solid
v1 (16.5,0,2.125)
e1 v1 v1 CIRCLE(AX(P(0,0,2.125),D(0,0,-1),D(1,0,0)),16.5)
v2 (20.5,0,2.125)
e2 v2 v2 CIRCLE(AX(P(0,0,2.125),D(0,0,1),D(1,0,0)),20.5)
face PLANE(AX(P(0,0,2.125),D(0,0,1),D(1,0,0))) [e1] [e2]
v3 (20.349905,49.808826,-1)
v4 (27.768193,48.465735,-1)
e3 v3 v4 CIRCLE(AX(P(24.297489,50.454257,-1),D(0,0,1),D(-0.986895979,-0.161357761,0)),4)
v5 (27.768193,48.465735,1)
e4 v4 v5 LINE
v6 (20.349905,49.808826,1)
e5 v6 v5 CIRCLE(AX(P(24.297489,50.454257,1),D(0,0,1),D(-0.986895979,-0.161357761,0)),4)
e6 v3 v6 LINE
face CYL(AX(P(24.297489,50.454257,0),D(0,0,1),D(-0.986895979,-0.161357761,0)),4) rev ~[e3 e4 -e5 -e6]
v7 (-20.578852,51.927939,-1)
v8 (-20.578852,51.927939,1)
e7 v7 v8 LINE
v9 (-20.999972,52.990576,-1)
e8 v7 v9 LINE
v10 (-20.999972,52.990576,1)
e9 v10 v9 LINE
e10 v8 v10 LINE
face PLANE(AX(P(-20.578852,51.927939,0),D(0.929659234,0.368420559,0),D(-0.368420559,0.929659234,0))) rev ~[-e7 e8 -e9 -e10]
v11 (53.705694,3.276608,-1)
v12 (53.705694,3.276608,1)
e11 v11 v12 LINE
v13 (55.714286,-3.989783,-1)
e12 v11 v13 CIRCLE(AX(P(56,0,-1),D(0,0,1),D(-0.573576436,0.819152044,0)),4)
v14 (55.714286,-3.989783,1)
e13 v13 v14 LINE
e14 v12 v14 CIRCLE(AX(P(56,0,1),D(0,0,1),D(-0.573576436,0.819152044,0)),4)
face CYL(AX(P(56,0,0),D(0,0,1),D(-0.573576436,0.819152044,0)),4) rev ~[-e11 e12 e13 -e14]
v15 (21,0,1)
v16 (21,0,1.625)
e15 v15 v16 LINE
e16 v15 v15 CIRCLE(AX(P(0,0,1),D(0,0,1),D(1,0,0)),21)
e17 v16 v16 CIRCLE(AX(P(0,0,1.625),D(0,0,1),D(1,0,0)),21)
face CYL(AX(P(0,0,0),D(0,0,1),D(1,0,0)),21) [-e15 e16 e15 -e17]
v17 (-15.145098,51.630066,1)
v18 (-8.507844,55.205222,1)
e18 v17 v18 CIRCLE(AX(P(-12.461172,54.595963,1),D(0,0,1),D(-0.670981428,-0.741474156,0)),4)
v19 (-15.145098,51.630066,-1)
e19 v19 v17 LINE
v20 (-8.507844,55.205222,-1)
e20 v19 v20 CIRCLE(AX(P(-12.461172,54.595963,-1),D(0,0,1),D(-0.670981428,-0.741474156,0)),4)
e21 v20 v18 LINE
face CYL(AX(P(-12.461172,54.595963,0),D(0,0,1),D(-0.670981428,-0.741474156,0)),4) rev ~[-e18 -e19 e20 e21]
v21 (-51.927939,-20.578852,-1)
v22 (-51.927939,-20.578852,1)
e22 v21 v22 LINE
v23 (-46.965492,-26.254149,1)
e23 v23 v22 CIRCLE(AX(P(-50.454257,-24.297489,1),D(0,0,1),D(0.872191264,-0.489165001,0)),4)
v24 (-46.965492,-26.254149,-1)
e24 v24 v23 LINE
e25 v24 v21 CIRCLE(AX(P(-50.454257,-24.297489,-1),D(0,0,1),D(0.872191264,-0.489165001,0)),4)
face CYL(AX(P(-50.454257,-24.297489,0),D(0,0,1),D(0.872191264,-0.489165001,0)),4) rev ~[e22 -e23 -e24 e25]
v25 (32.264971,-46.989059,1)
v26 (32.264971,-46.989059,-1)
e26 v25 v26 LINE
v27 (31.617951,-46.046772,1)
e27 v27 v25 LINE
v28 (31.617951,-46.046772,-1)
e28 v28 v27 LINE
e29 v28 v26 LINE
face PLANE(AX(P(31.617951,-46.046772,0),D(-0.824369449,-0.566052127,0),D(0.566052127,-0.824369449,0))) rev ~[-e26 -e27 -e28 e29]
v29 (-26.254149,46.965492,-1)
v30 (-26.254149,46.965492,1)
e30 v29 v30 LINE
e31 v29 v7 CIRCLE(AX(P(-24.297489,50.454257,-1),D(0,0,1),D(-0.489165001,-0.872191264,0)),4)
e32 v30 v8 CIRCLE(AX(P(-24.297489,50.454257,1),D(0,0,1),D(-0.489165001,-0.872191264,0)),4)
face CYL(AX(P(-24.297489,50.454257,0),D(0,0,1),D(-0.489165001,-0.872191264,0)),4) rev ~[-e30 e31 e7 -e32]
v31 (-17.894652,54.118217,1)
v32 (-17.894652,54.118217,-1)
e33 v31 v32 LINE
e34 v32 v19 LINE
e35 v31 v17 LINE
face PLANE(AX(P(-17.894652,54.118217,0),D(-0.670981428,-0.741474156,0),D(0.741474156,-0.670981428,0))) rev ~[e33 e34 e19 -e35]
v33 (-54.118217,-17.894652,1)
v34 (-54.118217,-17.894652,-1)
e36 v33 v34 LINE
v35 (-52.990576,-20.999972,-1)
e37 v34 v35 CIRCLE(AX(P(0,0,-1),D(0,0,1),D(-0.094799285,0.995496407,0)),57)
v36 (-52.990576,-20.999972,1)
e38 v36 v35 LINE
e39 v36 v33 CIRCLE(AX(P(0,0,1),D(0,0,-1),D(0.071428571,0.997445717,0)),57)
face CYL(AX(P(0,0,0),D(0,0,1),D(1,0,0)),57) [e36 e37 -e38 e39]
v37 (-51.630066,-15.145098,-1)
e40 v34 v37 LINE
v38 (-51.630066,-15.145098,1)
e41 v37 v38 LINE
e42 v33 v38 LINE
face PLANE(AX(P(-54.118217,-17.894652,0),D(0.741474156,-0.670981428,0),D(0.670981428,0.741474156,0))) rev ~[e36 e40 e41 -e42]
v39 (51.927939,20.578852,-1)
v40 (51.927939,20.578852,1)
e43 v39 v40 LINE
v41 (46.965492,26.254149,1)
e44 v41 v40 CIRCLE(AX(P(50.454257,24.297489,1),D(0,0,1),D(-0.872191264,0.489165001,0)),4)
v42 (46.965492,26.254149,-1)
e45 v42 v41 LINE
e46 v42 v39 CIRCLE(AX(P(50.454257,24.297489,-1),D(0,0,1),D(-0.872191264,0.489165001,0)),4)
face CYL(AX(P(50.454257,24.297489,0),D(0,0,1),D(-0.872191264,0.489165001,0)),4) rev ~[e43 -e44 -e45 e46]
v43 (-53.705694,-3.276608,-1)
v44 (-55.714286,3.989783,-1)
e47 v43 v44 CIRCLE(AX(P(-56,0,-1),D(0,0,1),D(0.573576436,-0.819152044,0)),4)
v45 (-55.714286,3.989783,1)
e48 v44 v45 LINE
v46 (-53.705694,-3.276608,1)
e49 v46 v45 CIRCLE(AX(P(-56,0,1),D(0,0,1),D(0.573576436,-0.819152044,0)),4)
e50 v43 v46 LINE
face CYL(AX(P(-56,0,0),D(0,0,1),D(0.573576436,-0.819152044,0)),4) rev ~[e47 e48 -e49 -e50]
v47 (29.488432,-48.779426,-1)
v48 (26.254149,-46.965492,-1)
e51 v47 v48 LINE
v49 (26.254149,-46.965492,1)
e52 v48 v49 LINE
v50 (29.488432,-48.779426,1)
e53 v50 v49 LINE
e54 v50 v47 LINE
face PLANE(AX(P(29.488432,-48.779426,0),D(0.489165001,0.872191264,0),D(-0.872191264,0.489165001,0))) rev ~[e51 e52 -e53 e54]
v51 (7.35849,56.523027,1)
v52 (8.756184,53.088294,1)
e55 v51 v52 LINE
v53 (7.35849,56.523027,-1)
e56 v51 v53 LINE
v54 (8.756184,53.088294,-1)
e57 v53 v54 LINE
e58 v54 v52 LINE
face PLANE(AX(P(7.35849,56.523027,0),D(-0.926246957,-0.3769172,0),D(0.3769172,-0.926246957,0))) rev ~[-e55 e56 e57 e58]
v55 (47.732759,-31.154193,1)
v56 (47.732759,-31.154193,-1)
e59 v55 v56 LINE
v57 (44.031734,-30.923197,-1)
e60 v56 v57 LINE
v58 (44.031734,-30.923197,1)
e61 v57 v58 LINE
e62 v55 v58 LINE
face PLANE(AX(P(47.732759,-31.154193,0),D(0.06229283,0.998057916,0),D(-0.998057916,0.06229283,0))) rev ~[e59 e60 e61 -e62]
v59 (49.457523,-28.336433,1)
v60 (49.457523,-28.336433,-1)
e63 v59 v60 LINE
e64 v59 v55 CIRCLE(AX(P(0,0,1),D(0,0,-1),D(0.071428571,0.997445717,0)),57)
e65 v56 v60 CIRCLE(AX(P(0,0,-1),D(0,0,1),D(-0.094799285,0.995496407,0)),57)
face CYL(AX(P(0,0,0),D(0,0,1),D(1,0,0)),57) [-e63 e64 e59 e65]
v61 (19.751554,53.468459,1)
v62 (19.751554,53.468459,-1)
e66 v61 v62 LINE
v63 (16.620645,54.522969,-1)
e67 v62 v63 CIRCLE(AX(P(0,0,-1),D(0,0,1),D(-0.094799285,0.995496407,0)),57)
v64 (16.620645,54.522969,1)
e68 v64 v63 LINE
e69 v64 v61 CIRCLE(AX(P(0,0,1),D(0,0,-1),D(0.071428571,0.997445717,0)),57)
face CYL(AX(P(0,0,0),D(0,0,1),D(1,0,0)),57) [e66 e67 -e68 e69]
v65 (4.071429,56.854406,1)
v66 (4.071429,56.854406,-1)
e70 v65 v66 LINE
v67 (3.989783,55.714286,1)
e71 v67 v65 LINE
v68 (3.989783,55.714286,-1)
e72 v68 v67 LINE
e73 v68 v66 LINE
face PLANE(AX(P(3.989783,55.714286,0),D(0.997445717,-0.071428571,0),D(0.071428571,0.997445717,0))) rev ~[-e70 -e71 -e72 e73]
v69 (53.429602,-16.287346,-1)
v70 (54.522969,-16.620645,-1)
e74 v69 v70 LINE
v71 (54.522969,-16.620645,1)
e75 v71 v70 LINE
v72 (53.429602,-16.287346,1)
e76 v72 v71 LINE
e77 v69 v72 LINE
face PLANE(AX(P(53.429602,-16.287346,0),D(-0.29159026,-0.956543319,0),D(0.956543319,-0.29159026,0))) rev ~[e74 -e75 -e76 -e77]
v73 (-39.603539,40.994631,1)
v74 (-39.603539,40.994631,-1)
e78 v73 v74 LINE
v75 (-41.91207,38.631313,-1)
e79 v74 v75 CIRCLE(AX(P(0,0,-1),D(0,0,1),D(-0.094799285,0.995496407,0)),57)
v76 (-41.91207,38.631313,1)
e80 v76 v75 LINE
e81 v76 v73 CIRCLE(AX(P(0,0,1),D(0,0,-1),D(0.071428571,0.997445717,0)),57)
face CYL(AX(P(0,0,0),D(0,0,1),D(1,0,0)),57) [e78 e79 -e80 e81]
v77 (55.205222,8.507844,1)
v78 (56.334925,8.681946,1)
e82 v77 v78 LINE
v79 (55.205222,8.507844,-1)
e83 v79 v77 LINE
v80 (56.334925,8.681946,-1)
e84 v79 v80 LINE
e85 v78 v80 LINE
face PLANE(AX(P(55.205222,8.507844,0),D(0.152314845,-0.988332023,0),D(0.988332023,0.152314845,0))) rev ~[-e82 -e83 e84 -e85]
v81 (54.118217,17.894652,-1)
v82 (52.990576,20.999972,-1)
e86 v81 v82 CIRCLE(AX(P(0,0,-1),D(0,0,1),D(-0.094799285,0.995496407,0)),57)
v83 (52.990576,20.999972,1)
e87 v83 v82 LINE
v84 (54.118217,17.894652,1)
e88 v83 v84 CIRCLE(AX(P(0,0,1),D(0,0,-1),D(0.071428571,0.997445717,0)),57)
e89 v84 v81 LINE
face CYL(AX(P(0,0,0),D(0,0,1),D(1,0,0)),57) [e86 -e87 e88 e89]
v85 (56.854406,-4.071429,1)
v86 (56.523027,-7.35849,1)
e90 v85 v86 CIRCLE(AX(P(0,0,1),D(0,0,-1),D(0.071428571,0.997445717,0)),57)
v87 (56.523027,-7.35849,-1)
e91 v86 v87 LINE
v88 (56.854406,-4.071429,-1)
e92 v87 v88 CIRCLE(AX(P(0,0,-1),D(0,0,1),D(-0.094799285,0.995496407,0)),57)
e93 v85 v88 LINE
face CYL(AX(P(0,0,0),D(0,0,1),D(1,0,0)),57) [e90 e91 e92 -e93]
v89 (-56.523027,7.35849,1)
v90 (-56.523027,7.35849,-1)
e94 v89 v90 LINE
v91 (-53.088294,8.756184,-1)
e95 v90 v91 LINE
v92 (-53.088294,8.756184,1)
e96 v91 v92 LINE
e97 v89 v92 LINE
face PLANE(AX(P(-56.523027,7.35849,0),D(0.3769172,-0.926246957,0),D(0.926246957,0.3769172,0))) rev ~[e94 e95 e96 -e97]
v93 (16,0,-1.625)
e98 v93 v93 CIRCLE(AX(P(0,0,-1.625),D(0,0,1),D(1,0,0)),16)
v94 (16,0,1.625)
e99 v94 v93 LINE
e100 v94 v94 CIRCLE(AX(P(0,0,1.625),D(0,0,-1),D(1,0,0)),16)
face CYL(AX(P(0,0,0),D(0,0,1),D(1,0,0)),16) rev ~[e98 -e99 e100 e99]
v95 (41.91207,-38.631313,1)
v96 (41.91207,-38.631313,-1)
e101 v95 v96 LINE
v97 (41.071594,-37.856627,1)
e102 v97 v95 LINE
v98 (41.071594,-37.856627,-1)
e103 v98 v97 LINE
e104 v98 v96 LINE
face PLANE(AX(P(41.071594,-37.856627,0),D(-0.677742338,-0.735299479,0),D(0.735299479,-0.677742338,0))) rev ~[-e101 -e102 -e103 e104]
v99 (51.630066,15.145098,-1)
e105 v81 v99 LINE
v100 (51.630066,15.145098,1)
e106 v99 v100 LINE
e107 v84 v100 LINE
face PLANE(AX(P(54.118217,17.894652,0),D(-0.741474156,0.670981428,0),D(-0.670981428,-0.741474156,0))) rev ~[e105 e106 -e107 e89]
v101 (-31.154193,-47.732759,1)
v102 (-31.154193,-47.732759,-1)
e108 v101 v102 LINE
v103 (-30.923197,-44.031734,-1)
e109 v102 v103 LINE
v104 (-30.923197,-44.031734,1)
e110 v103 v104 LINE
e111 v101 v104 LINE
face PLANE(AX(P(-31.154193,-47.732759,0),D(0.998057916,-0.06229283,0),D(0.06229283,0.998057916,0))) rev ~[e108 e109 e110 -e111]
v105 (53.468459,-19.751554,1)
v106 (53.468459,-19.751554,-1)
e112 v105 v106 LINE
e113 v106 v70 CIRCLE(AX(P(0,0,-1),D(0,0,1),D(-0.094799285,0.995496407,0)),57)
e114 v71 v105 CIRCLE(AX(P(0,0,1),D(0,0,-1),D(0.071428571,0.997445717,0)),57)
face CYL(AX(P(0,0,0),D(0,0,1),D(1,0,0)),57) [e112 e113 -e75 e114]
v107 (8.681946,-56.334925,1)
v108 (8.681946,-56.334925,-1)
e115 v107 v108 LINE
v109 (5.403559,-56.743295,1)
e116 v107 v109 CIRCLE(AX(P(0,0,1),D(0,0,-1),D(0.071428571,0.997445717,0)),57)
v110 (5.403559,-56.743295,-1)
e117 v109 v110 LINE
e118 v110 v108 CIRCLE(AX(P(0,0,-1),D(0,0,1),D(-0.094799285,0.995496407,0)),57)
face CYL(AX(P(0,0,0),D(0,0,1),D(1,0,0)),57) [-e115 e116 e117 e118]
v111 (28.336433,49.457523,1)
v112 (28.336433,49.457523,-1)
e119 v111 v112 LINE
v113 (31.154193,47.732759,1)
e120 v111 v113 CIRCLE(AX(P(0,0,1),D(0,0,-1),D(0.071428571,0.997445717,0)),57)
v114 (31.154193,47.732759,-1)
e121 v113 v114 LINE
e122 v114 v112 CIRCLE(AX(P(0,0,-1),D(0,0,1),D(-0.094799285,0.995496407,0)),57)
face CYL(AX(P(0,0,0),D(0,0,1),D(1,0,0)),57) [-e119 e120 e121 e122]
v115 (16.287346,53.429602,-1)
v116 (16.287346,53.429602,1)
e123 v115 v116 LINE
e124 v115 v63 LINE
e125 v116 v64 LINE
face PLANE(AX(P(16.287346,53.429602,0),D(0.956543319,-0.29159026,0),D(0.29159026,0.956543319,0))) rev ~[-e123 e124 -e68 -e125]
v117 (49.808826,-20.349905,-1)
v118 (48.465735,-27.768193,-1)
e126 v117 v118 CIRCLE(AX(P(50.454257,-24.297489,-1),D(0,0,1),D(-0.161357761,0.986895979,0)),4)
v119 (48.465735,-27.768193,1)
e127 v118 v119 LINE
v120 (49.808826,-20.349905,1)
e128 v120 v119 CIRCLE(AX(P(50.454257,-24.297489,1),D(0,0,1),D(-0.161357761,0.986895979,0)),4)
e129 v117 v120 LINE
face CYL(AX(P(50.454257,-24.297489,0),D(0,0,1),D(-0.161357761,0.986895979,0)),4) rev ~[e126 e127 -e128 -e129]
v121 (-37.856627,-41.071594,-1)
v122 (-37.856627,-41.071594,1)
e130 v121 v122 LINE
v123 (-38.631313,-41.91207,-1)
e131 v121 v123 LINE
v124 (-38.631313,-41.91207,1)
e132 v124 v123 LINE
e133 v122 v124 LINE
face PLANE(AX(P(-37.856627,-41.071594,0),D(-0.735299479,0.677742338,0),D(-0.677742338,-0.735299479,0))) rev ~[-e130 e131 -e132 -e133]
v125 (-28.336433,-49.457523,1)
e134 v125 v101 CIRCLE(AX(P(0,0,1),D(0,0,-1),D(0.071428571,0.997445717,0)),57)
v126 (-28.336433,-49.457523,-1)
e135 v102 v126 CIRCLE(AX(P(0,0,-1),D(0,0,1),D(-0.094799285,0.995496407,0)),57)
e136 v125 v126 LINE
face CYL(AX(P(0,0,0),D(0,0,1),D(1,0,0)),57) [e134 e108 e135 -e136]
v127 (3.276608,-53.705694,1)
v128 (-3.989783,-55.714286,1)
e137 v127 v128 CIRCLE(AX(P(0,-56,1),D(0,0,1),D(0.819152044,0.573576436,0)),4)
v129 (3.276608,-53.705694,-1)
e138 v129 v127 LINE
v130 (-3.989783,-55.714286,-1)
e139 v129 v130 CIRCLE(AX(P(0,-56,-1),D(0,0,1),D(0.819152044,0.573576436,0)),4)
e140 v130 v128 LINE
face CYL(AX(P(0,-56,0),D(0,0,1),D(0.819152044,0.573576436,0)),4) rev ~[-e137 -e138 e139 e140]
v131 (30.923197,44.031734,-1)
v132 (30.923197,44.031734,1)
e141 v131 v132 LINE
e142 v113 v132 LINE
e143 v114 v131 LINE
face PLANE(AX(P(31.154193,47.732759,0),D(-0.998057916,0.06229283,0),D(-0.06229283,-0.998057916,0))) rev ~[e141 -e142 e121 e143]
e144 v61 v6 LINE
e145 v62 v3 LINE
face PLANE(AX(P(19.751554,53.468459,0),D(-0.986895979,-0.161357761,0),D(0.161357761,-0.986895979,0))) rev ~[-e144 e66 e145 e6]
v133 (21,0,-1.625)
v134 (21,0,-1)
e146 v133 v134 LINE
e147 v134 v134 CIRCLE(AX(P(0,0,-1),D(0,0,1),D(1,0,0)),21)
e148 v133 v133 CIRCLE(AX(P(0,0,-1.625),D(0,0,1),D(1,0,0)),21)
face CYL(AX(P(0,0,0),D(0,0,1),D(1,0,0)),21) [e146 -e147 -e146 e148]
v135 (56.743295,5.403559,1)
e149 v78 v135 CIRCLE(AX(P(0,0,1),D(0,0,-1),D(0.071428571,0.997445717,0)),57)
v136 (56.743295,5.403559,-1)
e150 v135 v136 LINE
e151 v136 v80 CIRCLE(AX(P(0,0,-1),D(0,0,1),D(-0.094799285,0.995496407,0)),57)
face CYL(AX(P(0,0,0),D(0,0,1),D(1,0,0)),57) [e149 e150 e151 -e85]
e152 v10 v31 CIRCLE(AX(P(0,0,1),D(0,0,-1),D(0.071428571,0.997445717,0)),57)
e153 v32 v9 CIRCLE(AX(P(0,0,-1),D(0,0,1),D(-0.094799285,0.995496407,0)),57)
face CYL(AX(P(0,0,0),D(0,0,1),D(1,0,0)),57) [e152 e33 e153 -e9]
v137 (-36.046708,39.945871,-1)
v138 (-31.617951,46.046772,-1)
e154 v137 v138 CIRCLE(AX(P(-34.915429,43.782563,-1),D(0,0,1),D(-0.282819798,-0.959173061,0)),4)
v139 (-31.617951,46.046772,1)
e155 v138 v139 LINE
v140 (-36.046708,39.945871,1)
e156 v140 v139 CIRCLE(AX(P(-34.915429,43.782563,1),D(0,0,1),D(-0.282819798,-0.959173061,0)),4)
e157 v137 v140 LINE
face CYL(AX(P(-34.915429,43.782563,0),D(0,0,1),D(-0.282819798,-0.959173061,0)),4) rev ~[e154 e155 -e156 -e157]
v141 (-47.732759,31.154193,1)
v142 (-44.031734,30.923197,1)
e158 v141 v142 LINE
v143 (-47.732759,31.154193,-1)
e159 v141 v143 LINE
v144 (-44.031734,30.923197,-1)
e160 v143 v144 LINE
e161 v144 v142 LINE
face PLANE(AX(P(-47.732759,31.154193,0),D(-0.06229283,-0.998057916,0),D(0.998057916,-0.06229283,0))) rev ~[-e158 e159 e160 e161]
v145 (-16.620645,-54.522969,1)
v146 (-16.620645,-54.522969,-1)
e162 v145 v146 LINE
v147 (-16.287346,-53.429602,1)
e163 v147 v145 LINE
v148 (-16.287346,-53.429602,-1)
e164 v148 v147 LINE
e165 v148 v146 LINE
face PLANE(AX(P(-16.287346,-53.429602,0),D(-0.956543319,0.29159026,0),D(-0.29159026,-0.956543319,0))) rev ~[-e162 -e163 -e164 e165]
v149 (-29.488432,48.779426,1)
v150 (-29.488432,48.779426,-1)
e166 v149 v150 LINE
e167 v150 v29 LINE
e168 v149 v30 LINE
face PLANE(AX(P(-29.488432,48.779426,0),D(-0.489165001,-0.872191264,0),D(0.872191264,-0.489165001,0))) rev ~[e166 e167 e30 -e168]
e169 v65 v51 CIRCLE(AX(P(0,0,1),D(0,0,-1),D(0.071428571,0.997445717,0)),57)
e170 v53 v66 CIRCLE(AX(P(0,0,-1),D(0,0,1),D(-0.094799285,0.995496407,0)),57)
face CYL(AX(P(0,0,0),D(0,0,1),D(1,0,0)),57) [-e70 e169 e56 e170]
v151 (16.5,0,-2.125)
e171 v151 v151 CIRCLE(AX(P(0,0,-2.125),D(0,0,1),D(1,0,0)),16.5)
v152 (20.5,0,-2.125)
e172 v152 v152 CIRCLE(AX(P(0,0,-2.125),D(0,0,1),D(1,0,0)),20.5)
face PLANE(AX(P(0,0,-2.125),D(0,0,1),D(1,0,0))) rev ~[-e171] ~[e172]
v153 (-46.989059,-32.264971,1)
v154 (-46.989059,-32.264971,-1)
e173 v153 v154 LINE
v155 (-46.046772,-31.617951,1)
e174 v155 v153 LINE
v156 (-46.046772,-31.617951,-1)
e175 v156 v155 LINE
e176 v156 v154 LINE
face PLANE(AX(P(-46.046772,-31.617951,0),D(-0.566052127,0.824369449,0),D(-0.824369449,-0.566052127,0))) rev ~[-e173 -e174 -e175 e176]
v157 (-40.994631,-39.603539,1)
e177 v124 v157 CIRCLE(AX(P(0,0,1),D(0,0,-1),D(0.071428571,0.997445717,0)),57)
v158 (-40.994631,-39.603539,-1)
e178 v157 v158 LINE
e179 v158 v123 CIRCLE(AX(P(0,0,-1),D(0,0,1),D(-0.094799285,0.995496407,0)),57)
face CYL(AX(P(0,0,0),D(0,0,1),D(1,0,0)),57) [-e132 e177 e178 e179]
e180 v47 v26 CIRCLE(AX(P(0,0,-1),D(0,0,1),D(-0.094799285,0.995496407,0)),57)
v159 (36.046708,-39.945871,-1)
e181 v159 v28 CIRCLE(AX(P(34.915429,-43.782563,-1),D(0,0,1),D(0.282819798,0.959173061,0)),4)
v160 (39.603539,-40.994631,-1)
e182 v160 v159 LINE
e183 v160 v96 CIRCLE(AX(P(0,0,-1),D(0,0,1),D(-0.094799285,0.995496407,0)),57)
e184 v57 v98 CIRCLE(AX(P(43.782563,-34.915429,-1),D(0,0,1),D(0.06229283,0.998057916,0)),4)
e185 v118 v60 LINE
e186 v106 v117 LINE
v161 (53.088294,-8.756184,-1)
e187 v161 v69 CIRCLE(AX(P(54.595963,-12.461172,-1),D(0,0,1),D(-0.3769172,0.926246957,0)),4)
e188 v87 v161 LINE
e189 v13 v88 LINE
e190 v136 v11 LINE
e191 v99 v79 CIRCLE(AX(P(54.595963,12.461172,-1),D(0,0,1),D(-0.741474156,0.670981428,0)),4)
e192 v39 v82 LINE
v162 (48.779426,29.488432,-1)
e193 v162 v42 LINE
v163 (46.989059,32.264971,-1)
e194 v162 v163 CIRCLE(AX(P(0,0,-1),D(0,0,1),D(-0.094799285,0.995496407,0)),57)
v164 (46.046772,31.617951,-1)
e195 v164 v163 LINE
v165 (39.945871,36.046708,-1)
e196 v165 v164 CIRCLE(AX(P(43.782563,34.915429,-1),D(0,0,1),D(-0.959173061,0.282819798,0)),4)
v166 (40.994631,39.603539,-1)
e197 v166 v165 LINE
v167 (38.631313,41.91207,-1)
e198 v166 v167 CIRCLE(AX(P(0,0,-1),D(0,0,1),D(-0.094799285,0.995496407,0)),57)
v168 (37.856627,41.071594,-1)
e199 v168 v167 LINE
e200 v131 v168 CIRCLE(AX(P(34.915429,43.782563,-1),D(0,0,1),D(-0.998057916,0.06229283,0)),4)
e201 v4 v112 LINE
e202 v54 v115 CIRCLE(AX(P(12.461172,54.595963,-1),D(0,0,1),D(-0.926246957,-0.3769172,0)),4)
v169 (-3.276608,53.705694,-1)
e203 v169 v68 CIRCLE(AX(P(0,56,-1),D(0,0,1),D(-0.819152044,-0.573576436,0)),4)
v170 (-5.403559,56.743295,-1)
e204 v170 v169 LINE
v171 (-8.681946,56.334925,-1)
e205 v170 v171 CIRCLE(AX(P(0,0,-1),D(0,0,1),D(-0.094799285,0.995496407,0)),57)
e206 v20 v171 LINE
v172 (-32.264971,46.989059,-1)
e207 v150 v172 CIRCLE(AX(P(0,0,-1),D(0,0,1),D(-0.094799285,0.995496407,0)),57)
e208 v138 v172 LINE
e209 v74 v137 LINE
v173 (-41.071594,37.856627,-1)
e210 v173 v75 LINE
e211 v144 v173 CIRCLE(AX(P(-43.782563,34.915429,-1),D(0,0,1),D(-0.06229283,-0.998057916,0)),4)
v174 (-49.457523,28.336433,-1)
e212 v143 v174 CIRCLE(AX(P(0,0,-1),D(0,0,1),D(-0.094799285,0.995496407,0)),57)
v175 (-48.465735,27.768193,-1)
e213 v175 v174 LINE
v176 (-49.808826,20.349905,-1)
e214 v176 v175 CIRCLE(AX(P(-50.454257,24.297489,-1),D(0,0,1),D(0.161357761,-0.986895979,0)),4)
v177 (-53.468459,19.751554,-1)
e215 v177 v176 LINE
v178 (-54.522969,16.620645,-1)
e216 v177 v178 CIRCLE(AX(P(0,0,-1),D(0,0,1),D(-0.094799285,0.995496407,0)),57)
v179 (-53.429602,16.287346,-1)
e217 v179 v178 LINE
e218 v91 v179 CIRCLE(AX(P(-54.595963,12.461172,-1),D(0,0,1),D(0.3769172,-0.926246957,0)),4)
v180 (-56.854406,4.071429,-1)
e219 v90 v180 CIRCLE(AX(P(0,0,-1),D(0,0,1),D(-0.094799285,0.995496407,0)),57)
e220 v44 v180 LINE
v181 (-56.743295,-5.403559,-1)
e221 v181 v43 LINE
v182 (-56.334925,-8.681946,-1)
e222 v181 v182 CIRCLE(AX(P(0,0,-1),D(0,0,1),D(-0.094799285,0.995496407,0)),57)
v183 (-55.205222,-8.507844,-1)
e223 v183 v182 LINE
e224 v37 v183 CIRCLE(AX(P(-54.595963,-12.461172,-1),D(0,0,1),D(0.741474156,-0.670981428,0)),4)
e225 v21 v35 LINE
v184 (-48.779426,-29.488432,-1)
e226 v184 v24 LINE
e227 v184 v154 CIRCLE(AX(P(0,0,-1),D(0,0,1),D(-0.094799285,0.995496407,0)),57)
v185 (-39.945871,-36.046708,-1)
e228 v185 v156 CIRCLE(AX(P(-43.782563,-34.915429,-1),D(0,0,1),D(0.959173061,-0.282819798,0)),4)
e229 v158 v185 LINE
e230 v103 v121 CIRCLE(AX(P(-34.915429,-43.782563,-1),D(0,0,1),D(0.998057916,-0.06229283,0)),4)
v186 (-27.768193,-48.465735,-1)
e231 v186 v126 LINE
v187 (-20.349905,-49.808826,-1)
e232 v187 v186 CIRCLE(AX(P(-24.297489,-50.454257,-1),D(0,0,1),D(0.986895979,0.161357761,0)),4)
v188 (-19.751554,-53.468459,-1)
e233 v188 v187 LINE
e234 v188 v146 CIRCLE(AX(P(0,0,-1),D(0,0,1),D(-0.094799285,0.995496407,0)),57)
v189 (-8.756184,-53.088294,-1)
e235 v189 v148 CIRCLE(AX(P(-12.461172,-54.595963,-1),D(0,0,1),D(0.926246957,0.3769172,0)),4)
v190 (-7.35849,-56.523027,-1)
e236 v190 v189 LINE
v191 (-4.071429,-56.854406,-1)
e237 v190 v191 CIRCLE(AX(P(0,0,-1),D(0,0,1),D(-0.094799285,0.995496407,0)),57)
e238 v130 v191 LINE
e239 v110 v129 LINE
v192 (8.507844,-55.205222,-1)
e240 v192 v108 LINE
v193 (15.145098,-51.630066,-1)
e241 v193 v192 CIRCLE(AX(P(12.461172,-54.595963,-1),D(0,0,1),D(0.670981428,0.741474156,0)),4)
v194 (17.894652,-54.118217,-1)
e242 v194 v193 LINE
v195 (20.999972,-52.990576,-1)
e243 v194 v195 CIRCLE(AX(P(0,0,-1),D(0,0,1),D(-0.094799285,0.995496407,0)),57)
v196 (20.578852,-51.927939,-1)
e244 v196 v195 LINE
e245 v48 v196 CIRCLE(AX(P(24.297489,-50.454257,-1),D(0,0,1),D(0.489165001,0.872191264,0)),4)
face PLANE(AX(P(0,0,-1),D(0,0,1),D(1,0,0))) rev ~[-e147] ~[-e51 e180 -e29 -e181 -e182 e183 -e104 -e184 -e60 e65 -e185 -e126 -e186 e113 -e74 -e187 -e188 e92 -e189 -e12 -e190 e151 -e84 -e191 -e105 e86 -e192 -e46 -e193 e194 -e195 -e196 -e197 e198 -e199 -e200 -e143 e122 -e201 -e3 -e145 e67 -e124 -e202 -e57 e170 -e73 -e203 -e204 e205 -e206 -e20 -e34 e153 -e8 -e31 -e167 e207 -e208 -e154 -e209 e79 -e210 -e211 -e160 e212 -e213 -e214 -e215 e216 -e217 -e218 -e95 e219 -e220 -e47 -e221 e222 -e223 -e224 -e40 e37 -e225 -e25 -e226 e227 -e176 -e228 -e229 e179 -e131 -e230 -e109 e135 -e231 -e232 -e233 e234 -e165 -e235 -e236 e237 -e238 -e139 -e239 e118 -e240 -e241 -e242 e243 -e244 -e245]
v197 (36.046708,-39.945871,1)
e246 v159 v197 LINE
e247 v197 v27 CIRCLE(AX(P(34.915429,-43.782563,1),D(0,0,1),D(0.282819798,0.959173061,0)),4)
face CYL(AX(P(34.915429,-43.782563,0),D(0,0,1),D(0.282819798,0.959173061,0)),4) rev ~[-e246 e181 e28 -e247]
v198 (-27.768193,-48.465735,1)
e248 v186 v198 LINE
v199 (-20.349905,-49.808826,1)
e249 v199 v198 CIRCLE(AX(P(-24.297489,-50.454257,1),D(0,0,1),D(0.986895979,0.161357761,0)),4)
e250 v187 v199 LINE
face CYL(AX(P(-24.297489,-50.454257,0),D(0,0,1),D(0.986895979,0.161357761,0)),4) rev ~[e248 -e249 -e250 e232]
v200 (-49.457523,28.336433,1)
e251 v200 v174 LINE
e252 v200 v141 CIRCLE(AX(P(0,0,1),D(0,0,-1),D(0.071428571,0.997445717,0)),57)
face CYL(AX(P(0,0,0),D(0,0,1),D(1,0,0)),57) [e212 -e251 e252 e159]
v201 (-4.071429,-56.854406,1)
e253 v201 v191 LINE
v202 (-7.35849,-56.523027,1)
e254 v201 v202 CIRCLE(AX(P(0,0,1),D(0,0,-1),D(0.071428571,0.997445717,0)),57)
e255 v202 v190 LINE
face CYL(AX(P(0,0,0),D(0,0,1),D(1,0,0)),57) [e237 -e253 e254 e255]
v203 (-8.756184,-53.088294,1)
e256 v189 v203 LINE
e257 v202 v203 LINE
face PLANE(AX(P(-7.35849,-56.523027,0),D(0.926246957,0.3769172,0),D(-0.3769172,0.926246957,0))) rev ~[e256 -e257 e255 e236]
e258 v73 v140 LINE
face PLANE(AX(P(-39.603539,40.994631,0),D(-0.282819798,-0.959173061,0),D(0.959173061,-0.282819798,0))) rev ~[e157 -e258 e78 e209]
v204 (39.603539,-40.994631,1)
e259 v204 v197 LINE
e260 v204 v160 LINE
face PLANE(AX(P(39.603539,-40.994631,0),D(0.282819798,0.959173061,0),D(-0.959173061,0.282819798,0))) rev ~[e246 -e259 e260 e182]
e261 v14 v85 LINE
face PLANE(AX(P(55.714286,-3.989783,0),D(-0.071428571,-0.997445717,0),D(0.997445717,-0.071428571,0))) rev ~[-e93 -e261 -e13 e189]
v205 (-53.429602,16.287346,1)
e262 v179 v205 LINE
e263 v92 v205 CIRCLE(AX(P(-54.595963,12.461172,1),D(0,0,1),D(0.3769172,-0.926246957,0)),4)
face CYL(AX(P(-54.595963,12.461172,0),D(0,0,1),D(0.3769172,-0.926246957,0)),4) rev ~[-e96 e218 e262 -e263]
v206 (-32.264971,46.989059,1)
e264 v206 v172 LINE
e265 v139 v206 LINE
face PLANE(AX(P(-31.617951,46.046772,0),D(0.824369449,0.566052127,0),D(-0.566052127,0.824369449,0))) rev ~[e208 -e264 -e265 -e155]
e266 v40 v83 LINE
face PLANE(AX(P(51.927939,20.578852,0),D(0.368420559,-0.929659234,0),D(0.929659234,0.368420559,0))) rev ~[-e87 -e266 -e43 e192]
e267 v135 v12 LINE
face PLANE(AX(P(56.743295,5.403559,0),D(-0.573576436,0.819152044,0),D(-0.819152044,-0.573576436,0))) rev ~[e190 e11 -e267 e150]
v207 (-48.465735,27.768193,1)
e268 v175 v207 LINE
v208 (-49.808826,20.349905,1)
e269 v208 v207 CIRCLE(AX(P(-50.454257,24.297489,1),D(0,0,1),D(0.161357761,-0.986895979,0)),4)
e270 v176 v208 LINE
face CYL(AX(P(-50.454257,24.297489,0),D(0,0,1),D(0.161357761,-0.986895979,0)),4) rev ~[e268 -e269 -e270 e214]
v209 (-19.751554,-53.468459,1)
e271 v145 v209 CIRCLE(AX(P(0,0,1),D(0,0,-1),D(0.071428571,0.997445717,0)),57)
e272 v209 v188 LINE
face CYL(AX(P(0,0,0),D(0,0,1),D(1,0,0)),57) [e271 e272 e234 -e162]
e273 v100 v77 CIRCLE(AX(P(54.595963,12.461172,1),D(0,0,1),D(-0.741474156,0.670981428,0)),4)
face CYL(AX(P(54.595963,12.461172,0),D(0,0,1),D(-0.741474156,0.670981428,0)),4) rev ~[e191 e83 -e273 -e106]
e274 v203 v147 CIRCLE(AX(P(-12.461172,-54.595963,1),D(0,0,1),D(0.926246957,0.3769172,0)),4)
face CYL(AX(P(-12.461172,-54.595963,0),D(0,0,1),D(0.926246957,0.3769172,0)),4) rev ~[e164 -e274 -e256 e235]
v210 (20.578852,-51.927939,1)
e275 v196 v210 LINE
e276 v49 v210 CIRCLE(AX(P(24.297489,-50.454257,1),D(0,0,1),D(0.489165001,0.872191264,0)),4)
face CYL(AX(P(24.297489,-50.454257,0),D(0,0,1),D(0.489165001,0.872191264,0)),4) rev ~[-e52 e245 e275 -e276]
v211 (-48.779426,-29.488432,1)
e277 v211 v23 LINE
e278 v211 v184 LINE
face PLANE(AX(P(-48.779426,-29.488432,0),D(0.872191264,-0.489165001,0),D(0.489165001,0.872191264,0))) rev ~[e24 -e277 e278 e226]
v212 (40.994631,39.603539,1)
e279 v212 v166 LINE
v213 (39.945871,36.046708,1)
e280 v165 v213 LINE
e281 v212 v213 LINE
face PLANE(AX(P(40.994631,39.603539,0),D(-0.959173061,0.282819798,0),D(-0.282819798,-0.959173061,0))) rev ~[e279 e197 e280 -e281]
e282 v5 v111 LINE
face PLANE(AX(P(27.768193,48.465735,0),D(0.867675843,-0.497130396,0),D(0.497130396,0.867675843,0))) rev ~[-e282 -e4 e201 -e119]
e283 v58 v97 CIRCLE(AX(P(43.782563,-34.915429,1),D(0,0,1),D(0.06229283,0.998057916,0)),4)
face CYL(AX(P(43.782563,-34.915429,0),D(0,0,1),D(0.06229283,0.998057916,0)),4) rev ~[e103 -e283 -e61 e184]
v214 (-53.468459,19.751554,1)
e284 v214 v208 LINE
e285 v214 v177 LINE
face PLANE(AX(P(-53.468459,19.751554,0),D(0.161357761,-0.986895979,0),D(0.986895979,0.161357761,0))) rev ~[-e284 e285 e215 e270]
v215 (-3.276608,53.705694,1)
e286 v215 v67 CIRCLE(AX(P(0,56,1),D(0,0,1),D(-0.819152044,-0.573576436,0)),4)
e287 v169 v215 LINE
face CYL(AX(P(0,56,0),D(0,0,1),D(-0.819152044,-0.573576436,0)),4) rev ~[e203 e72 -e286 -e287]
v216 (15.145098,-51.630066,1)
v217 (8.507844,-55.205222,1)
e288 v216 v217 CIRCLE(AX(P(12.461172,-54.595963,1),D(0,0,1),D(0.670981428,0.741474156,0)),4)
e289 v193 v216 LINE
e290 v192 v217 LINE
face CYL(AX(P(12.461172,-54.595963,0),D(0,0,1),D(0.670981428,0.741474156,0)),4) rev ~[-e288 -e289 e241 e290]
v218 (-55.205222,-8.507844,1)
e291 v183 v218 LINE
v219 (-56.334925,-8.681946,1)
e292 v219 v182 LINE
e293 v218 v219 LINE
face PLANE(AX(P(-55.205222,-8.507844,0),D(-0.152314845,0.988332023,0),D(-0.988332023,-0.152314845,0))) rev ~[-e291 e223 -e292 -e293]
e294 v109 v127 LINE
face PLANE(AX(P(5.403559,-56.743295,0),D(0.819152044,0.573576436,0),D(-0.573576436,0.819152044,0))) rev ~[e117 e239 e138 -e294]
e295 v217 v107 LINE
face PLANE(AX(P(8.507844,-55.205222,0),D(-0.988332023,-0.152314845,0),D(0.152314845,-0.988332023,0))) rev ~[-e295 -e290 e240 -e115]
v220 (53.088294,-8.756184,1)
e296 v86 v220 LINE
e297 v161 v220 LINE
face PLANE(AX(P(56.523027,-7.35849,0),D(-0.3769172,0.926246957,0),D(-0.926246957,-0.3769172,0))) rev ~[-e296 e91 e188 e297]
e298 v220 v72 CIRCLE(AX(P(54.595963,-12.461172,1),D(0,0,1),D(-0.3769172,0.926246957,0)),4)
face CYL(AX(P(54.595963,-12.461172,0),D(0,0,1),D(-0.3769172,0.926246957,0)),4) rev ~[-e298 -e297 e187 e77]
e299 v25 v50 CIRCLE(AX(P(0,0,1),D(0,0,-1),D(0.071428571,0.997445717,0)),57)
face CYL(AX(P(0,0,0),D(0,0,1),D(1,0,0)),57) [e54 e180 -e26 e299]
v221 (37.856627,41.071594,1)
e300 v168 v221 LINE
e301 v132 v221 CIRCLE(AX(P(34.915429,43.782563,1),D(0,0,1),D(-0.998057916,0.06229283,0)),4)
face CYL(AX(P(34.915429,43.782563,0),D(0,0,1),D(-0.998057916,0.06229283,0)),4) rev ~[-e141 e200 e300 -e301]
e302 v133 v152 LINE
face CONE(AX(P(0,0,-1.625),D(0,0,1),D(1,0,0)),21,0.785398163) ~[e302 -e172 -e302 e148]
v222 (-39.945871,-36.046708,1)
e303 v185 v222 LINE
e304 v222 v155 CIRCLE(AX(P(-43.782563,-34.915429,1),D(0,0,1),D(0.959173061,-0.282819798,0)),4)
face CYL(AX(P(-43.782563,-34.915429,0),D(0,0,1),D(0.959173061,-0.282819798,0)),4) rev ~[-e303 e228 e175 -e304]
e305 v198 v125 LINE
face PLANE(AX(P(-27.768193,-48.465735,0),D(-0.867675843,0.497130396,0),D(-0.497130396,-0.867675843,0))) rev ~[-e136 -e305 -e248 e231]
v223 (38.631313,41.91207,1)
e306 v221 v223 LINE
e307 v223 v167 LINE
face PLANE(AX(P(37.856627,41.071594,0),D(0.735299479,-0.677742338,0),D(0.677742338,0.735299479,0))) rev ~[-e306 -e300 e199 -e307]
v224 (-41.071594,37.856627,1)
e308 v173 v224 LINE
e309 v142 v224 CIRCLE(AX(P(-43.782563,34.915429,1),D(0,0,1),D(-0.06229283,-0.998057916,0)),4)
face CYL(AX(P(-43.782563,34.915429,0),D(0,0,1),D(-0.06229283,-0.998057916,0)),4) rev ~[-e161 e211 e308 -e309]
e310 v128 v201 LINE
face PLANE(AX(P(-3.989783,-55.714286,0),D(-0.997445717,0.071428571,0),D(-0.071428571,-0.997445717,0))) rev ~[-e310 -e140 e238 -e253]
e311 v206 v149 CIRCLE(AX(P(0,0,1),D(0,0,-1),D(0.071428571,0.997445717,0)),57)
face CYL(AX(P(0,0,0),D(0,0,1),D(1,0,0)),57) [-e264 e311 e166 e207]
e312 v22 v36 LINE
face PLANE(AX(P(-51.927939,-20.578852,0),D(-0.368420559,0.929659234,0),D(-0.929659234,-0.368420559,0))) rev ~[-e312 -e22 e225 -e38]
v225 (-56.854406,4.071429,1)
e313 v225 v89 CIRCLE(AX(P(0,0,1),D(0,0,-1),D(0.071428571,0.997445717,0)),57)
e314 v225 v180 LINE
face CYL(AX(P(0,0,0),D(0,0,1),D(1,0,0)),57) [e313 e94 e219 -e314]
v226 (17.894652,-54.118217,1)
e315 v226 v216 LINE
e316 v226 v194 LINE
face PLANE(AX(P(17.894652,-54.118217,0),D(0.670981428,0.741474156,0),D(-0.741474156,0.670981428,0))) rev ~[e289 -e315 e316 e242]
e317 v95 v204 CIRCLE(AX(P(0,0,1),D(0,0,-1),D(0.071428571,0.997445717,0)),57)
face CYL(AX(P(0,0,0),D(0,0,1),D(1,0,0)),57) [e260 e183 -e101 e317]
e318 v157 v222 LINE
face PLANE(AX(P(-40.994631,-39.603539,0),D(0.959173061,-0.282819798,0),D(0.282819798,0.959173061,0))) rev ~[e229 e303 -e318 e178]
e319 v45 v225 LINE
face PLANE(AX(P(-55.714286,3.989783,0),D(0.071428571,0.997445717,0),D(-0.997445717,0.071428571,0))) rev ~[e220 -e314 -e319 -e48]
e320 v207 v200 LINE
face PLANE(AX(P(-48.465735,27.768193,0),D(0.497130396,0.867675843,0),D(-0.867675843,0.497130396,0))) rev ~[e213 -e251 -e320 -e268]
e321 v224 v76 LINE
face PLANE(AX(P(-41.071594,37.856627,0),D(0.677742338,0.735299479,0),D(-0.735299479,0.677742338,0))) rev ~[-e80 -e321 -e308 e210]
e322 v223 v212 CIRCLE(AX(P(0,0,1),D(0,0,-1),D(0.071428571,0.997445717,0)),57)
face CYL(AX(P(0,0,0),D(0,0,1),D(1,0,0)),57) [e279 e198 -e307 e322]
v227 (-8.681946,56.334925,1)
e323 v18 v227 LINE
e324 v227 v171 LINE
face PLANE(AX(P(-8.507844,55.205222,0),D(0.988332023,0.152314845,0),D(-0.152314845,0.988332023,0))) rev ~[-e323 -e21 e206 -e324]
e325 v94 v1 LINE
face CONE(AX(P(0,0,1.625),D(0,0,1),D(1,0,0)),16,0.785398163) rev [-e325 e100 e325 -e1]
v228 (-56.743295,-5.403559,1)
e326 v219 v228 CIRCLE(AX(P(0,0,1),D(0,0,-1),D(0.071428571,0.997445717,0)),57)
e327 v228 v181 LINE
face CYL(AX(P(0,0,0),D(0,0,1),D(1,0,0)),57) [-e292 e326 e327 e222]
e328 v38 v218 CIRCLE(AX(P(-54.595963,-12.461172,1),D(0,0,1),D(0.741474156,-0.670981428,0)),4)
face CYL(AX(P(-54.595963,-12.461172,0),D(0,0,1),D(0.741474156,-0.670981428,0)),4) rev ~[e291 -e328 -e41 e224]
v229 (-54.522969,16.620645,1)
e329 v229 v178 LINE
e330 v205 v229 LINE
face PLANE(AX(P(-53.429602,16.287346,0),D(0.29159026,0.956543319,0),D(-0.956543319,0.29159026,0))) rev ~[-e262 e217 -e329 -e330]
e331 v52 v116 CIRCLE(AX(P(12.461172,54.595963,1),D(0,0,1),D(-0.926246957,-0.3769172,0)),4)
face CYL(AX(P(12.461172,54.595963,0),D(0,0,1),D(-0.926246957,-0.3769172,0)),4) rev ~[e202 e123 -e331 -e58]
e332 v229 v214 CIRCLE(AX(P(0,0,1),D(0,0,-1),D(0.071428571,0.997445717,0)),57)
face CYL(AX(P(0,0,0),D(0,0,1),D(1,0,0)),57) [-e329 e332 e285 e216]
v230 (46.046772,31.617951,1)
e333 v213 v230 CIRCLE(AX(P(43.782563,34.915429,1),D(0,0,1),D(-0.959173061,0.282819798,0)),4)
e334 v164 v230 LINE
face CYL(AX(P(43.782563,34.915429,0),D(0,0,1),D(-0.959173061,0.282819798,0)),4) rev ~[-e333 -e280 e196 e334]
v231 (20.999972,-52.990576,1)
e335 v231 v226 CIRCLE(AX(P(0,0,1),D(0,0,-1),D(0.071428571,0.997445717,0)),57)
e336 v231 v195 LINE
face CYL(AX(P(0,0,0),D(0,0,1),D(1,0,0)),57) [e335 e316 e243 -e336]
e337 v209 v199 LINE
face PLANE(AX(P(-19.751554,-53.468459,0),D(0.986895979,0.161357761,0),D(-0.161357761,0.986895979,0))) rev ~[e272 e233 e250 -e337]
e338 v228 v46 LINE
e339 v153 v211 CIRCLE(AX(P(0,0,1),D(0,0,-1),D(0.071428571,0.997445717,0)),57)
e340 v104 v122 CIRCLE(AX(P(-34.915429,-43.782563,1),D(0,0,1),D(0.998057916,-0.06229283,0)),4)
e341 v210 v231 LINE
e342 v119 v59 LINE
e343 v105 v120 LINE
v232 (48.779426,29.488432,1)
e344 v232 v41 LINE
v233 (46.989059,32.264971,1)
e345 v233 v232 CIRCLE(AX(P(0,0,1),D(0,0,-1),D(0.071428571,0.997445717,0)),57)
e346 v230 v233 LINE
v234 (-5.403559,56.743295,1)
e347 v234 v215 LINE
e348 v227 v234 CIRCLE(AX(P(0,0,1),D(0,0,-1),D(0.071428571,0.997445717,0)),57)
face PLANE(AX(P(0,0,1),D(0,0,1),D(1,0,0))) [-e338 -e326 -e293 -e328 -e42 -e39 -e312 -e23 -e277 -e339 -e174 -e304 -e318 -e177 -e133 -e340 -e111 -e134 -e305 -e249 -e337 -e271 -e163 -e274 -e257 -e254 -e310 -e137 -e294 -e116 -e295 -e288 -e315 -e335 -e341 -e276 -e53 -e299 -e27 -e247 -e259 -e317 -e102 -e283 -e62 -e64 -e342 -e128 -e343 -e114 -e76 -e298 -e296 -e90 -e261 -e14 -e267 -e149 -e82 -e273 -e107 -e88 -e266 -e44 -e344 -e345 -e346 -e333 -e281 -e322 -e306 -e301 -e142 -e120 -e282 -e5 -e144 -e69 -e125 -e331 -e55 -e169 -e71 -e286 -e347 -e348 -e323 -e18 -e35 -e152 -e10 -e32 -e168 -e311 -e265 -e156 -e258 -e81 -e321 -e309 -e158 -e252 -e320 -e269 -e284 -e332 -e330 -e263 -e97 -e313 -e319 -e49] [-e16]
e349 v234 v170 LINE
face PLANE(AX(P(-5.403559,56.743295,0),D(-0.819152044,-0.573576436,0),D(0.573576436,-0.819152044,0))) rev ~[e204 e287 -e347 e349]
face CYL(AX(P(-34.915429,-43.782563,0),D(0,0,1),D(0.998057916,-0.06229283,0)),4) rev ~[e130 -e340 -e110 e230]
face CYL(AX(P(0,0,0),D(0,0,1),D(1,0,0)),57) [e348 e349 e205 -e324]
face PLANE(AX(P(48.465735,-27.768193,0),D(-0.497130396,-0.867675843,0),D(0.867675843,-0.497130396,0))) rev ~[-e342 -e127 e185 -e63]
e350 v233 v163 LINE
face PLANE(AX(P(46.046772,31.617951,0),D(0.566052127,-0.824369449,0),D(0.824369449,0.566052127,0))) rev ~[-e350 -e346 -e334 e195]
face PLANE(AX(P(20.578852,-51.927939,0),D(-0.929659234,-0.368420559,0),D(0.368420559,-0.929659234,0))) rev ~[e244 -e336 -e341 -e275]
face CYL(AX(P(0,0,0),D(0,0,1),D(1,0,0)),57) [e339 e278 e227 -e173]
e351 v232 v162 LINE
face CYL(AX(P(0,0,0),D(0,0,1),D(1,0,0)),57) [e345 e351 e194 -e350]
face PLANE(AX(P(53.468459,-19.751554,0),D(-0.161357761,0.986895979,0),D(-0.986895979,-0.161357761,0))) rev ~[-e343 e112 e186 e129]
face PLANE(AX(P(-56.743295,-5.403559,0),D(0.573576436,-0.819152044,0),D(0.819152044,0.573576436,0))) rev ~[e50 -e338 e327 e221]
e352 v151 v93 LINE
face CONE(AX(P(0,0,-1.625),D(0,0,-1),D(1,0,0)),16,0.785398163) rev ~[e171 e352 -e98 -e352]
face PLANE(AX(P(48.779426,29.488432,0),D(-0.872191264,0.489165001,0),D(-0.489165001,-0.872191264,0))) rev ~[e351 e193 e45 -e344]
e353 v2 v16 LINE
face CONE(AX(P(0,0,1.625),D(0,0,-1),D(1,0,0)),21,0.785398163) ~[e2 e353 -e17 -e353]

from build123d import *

# Parameters (mm, degrees)
ESQUISSE1_R                  = 57
EXTRUSION1_DEPTH             = 1
ENL_V_MAT_EXTRU_1_DEPTH      = 2
R_P_TITION_CIRCULAIRE1_COUNT = 28
ESQUISSE3_R                  = 21
EXTRUSION2_DEPTH             = 2.125
ESQUISSE4_R                  = 16
ENL_V_MAT_EXTRU_2_DEPTH      = 3.125
ENL_V_MAT_EXTRU_2_DEPTH_BACK = 3.125
CHANFREIN1_SIZE              = 0.5


with BuildPart() as part:
    # Esquisse1 → Extrusion1 (new body, symmetric)
    with BuildSketch(Plane.XY):
        Circle(ESQUISSE1_R)
    extrude(amount=EXTRUSION1_DEPTH, both=True)

    # Esquisse2 → Enlèv. mat.-Extru.1 (cut, symmetric)
    with BuildSketch(Plane.XY):
        with BuildLine():
            Line((-5.403559241, 56.743295177), (-3.276608177, 53.705694255))
            ThreePointArc((-3.276608177, 53.705694255), (1.065722501, 52.144583609), (3.98978287, 55.714285714))
            Line((3.98978287, 55.714285714), (4.071428571, 56.854405892))
            ThreePointArc((4.071428571, 56.854405892), (-0.668378207, 56.996081186), (-5.403559241, 56.743295177))
        make_face()
    enl_v_mat_extru_1 = extrude(amount=ENL_V_MAT_EXTRU_1_DEPTH, both=True, mode=Mode.SUBTRACT)

    # Répétition circulaire1: Enlèv. mat.-Extru.1 ×28 about axis
    r_p_tition_circulaire1_axis = Axis((0, 0, 0), (0, 0, 1))
    for i in range(1, R_P_TITION_CIRCULAIRE1_COUNT):
        add(enl_v_mat_extru_1.rotate(r_p_tition_circulaire1_axis, i * 360 / R_P_TITION_CIRCULAIRE1_COUNT), mode=Mode.SUBTRACT)

    # Esquisse3 → Extrusion2 (add, symmetric)
    with BuildSketch(Plane.XY):
        Circle(ESQUISSE3_R)
    extrude(amount=EXTRUSION2_DEPTH, both=True)

    # Esquisse4 → Enlèv. mat.-Extru.2 (cut, two sides)
    with BuildSketch(Plane.XY) as enl_v_mat_extru_2_sk:
        Circle(ESQUISSE4_R)
    extrude(amount=ENL_V_MAT_EXTRU_2_DEPTH, mode=Mode.SUBTRACT)
    extrude(enl_v_mat_extru_2_sk.sketch, amount=-ENL_V_MAT_EXTRU_2_DEPTH_BACK, mode=Mode.SUBTRACT)

    # Chanfrein1
    chanfrein1_edges = [part.edges().sort_by_distance(p)[0] for p in [
        (-21, 0, -2.125),
        (-21, 0, 2.125),
        (-16, 0, -2.125),
        (-16, 0, 2.125),
    ]]
    chamfer(chanfrein1_edges, length=CHANFREIN1_SIZE)


solid = part.part
